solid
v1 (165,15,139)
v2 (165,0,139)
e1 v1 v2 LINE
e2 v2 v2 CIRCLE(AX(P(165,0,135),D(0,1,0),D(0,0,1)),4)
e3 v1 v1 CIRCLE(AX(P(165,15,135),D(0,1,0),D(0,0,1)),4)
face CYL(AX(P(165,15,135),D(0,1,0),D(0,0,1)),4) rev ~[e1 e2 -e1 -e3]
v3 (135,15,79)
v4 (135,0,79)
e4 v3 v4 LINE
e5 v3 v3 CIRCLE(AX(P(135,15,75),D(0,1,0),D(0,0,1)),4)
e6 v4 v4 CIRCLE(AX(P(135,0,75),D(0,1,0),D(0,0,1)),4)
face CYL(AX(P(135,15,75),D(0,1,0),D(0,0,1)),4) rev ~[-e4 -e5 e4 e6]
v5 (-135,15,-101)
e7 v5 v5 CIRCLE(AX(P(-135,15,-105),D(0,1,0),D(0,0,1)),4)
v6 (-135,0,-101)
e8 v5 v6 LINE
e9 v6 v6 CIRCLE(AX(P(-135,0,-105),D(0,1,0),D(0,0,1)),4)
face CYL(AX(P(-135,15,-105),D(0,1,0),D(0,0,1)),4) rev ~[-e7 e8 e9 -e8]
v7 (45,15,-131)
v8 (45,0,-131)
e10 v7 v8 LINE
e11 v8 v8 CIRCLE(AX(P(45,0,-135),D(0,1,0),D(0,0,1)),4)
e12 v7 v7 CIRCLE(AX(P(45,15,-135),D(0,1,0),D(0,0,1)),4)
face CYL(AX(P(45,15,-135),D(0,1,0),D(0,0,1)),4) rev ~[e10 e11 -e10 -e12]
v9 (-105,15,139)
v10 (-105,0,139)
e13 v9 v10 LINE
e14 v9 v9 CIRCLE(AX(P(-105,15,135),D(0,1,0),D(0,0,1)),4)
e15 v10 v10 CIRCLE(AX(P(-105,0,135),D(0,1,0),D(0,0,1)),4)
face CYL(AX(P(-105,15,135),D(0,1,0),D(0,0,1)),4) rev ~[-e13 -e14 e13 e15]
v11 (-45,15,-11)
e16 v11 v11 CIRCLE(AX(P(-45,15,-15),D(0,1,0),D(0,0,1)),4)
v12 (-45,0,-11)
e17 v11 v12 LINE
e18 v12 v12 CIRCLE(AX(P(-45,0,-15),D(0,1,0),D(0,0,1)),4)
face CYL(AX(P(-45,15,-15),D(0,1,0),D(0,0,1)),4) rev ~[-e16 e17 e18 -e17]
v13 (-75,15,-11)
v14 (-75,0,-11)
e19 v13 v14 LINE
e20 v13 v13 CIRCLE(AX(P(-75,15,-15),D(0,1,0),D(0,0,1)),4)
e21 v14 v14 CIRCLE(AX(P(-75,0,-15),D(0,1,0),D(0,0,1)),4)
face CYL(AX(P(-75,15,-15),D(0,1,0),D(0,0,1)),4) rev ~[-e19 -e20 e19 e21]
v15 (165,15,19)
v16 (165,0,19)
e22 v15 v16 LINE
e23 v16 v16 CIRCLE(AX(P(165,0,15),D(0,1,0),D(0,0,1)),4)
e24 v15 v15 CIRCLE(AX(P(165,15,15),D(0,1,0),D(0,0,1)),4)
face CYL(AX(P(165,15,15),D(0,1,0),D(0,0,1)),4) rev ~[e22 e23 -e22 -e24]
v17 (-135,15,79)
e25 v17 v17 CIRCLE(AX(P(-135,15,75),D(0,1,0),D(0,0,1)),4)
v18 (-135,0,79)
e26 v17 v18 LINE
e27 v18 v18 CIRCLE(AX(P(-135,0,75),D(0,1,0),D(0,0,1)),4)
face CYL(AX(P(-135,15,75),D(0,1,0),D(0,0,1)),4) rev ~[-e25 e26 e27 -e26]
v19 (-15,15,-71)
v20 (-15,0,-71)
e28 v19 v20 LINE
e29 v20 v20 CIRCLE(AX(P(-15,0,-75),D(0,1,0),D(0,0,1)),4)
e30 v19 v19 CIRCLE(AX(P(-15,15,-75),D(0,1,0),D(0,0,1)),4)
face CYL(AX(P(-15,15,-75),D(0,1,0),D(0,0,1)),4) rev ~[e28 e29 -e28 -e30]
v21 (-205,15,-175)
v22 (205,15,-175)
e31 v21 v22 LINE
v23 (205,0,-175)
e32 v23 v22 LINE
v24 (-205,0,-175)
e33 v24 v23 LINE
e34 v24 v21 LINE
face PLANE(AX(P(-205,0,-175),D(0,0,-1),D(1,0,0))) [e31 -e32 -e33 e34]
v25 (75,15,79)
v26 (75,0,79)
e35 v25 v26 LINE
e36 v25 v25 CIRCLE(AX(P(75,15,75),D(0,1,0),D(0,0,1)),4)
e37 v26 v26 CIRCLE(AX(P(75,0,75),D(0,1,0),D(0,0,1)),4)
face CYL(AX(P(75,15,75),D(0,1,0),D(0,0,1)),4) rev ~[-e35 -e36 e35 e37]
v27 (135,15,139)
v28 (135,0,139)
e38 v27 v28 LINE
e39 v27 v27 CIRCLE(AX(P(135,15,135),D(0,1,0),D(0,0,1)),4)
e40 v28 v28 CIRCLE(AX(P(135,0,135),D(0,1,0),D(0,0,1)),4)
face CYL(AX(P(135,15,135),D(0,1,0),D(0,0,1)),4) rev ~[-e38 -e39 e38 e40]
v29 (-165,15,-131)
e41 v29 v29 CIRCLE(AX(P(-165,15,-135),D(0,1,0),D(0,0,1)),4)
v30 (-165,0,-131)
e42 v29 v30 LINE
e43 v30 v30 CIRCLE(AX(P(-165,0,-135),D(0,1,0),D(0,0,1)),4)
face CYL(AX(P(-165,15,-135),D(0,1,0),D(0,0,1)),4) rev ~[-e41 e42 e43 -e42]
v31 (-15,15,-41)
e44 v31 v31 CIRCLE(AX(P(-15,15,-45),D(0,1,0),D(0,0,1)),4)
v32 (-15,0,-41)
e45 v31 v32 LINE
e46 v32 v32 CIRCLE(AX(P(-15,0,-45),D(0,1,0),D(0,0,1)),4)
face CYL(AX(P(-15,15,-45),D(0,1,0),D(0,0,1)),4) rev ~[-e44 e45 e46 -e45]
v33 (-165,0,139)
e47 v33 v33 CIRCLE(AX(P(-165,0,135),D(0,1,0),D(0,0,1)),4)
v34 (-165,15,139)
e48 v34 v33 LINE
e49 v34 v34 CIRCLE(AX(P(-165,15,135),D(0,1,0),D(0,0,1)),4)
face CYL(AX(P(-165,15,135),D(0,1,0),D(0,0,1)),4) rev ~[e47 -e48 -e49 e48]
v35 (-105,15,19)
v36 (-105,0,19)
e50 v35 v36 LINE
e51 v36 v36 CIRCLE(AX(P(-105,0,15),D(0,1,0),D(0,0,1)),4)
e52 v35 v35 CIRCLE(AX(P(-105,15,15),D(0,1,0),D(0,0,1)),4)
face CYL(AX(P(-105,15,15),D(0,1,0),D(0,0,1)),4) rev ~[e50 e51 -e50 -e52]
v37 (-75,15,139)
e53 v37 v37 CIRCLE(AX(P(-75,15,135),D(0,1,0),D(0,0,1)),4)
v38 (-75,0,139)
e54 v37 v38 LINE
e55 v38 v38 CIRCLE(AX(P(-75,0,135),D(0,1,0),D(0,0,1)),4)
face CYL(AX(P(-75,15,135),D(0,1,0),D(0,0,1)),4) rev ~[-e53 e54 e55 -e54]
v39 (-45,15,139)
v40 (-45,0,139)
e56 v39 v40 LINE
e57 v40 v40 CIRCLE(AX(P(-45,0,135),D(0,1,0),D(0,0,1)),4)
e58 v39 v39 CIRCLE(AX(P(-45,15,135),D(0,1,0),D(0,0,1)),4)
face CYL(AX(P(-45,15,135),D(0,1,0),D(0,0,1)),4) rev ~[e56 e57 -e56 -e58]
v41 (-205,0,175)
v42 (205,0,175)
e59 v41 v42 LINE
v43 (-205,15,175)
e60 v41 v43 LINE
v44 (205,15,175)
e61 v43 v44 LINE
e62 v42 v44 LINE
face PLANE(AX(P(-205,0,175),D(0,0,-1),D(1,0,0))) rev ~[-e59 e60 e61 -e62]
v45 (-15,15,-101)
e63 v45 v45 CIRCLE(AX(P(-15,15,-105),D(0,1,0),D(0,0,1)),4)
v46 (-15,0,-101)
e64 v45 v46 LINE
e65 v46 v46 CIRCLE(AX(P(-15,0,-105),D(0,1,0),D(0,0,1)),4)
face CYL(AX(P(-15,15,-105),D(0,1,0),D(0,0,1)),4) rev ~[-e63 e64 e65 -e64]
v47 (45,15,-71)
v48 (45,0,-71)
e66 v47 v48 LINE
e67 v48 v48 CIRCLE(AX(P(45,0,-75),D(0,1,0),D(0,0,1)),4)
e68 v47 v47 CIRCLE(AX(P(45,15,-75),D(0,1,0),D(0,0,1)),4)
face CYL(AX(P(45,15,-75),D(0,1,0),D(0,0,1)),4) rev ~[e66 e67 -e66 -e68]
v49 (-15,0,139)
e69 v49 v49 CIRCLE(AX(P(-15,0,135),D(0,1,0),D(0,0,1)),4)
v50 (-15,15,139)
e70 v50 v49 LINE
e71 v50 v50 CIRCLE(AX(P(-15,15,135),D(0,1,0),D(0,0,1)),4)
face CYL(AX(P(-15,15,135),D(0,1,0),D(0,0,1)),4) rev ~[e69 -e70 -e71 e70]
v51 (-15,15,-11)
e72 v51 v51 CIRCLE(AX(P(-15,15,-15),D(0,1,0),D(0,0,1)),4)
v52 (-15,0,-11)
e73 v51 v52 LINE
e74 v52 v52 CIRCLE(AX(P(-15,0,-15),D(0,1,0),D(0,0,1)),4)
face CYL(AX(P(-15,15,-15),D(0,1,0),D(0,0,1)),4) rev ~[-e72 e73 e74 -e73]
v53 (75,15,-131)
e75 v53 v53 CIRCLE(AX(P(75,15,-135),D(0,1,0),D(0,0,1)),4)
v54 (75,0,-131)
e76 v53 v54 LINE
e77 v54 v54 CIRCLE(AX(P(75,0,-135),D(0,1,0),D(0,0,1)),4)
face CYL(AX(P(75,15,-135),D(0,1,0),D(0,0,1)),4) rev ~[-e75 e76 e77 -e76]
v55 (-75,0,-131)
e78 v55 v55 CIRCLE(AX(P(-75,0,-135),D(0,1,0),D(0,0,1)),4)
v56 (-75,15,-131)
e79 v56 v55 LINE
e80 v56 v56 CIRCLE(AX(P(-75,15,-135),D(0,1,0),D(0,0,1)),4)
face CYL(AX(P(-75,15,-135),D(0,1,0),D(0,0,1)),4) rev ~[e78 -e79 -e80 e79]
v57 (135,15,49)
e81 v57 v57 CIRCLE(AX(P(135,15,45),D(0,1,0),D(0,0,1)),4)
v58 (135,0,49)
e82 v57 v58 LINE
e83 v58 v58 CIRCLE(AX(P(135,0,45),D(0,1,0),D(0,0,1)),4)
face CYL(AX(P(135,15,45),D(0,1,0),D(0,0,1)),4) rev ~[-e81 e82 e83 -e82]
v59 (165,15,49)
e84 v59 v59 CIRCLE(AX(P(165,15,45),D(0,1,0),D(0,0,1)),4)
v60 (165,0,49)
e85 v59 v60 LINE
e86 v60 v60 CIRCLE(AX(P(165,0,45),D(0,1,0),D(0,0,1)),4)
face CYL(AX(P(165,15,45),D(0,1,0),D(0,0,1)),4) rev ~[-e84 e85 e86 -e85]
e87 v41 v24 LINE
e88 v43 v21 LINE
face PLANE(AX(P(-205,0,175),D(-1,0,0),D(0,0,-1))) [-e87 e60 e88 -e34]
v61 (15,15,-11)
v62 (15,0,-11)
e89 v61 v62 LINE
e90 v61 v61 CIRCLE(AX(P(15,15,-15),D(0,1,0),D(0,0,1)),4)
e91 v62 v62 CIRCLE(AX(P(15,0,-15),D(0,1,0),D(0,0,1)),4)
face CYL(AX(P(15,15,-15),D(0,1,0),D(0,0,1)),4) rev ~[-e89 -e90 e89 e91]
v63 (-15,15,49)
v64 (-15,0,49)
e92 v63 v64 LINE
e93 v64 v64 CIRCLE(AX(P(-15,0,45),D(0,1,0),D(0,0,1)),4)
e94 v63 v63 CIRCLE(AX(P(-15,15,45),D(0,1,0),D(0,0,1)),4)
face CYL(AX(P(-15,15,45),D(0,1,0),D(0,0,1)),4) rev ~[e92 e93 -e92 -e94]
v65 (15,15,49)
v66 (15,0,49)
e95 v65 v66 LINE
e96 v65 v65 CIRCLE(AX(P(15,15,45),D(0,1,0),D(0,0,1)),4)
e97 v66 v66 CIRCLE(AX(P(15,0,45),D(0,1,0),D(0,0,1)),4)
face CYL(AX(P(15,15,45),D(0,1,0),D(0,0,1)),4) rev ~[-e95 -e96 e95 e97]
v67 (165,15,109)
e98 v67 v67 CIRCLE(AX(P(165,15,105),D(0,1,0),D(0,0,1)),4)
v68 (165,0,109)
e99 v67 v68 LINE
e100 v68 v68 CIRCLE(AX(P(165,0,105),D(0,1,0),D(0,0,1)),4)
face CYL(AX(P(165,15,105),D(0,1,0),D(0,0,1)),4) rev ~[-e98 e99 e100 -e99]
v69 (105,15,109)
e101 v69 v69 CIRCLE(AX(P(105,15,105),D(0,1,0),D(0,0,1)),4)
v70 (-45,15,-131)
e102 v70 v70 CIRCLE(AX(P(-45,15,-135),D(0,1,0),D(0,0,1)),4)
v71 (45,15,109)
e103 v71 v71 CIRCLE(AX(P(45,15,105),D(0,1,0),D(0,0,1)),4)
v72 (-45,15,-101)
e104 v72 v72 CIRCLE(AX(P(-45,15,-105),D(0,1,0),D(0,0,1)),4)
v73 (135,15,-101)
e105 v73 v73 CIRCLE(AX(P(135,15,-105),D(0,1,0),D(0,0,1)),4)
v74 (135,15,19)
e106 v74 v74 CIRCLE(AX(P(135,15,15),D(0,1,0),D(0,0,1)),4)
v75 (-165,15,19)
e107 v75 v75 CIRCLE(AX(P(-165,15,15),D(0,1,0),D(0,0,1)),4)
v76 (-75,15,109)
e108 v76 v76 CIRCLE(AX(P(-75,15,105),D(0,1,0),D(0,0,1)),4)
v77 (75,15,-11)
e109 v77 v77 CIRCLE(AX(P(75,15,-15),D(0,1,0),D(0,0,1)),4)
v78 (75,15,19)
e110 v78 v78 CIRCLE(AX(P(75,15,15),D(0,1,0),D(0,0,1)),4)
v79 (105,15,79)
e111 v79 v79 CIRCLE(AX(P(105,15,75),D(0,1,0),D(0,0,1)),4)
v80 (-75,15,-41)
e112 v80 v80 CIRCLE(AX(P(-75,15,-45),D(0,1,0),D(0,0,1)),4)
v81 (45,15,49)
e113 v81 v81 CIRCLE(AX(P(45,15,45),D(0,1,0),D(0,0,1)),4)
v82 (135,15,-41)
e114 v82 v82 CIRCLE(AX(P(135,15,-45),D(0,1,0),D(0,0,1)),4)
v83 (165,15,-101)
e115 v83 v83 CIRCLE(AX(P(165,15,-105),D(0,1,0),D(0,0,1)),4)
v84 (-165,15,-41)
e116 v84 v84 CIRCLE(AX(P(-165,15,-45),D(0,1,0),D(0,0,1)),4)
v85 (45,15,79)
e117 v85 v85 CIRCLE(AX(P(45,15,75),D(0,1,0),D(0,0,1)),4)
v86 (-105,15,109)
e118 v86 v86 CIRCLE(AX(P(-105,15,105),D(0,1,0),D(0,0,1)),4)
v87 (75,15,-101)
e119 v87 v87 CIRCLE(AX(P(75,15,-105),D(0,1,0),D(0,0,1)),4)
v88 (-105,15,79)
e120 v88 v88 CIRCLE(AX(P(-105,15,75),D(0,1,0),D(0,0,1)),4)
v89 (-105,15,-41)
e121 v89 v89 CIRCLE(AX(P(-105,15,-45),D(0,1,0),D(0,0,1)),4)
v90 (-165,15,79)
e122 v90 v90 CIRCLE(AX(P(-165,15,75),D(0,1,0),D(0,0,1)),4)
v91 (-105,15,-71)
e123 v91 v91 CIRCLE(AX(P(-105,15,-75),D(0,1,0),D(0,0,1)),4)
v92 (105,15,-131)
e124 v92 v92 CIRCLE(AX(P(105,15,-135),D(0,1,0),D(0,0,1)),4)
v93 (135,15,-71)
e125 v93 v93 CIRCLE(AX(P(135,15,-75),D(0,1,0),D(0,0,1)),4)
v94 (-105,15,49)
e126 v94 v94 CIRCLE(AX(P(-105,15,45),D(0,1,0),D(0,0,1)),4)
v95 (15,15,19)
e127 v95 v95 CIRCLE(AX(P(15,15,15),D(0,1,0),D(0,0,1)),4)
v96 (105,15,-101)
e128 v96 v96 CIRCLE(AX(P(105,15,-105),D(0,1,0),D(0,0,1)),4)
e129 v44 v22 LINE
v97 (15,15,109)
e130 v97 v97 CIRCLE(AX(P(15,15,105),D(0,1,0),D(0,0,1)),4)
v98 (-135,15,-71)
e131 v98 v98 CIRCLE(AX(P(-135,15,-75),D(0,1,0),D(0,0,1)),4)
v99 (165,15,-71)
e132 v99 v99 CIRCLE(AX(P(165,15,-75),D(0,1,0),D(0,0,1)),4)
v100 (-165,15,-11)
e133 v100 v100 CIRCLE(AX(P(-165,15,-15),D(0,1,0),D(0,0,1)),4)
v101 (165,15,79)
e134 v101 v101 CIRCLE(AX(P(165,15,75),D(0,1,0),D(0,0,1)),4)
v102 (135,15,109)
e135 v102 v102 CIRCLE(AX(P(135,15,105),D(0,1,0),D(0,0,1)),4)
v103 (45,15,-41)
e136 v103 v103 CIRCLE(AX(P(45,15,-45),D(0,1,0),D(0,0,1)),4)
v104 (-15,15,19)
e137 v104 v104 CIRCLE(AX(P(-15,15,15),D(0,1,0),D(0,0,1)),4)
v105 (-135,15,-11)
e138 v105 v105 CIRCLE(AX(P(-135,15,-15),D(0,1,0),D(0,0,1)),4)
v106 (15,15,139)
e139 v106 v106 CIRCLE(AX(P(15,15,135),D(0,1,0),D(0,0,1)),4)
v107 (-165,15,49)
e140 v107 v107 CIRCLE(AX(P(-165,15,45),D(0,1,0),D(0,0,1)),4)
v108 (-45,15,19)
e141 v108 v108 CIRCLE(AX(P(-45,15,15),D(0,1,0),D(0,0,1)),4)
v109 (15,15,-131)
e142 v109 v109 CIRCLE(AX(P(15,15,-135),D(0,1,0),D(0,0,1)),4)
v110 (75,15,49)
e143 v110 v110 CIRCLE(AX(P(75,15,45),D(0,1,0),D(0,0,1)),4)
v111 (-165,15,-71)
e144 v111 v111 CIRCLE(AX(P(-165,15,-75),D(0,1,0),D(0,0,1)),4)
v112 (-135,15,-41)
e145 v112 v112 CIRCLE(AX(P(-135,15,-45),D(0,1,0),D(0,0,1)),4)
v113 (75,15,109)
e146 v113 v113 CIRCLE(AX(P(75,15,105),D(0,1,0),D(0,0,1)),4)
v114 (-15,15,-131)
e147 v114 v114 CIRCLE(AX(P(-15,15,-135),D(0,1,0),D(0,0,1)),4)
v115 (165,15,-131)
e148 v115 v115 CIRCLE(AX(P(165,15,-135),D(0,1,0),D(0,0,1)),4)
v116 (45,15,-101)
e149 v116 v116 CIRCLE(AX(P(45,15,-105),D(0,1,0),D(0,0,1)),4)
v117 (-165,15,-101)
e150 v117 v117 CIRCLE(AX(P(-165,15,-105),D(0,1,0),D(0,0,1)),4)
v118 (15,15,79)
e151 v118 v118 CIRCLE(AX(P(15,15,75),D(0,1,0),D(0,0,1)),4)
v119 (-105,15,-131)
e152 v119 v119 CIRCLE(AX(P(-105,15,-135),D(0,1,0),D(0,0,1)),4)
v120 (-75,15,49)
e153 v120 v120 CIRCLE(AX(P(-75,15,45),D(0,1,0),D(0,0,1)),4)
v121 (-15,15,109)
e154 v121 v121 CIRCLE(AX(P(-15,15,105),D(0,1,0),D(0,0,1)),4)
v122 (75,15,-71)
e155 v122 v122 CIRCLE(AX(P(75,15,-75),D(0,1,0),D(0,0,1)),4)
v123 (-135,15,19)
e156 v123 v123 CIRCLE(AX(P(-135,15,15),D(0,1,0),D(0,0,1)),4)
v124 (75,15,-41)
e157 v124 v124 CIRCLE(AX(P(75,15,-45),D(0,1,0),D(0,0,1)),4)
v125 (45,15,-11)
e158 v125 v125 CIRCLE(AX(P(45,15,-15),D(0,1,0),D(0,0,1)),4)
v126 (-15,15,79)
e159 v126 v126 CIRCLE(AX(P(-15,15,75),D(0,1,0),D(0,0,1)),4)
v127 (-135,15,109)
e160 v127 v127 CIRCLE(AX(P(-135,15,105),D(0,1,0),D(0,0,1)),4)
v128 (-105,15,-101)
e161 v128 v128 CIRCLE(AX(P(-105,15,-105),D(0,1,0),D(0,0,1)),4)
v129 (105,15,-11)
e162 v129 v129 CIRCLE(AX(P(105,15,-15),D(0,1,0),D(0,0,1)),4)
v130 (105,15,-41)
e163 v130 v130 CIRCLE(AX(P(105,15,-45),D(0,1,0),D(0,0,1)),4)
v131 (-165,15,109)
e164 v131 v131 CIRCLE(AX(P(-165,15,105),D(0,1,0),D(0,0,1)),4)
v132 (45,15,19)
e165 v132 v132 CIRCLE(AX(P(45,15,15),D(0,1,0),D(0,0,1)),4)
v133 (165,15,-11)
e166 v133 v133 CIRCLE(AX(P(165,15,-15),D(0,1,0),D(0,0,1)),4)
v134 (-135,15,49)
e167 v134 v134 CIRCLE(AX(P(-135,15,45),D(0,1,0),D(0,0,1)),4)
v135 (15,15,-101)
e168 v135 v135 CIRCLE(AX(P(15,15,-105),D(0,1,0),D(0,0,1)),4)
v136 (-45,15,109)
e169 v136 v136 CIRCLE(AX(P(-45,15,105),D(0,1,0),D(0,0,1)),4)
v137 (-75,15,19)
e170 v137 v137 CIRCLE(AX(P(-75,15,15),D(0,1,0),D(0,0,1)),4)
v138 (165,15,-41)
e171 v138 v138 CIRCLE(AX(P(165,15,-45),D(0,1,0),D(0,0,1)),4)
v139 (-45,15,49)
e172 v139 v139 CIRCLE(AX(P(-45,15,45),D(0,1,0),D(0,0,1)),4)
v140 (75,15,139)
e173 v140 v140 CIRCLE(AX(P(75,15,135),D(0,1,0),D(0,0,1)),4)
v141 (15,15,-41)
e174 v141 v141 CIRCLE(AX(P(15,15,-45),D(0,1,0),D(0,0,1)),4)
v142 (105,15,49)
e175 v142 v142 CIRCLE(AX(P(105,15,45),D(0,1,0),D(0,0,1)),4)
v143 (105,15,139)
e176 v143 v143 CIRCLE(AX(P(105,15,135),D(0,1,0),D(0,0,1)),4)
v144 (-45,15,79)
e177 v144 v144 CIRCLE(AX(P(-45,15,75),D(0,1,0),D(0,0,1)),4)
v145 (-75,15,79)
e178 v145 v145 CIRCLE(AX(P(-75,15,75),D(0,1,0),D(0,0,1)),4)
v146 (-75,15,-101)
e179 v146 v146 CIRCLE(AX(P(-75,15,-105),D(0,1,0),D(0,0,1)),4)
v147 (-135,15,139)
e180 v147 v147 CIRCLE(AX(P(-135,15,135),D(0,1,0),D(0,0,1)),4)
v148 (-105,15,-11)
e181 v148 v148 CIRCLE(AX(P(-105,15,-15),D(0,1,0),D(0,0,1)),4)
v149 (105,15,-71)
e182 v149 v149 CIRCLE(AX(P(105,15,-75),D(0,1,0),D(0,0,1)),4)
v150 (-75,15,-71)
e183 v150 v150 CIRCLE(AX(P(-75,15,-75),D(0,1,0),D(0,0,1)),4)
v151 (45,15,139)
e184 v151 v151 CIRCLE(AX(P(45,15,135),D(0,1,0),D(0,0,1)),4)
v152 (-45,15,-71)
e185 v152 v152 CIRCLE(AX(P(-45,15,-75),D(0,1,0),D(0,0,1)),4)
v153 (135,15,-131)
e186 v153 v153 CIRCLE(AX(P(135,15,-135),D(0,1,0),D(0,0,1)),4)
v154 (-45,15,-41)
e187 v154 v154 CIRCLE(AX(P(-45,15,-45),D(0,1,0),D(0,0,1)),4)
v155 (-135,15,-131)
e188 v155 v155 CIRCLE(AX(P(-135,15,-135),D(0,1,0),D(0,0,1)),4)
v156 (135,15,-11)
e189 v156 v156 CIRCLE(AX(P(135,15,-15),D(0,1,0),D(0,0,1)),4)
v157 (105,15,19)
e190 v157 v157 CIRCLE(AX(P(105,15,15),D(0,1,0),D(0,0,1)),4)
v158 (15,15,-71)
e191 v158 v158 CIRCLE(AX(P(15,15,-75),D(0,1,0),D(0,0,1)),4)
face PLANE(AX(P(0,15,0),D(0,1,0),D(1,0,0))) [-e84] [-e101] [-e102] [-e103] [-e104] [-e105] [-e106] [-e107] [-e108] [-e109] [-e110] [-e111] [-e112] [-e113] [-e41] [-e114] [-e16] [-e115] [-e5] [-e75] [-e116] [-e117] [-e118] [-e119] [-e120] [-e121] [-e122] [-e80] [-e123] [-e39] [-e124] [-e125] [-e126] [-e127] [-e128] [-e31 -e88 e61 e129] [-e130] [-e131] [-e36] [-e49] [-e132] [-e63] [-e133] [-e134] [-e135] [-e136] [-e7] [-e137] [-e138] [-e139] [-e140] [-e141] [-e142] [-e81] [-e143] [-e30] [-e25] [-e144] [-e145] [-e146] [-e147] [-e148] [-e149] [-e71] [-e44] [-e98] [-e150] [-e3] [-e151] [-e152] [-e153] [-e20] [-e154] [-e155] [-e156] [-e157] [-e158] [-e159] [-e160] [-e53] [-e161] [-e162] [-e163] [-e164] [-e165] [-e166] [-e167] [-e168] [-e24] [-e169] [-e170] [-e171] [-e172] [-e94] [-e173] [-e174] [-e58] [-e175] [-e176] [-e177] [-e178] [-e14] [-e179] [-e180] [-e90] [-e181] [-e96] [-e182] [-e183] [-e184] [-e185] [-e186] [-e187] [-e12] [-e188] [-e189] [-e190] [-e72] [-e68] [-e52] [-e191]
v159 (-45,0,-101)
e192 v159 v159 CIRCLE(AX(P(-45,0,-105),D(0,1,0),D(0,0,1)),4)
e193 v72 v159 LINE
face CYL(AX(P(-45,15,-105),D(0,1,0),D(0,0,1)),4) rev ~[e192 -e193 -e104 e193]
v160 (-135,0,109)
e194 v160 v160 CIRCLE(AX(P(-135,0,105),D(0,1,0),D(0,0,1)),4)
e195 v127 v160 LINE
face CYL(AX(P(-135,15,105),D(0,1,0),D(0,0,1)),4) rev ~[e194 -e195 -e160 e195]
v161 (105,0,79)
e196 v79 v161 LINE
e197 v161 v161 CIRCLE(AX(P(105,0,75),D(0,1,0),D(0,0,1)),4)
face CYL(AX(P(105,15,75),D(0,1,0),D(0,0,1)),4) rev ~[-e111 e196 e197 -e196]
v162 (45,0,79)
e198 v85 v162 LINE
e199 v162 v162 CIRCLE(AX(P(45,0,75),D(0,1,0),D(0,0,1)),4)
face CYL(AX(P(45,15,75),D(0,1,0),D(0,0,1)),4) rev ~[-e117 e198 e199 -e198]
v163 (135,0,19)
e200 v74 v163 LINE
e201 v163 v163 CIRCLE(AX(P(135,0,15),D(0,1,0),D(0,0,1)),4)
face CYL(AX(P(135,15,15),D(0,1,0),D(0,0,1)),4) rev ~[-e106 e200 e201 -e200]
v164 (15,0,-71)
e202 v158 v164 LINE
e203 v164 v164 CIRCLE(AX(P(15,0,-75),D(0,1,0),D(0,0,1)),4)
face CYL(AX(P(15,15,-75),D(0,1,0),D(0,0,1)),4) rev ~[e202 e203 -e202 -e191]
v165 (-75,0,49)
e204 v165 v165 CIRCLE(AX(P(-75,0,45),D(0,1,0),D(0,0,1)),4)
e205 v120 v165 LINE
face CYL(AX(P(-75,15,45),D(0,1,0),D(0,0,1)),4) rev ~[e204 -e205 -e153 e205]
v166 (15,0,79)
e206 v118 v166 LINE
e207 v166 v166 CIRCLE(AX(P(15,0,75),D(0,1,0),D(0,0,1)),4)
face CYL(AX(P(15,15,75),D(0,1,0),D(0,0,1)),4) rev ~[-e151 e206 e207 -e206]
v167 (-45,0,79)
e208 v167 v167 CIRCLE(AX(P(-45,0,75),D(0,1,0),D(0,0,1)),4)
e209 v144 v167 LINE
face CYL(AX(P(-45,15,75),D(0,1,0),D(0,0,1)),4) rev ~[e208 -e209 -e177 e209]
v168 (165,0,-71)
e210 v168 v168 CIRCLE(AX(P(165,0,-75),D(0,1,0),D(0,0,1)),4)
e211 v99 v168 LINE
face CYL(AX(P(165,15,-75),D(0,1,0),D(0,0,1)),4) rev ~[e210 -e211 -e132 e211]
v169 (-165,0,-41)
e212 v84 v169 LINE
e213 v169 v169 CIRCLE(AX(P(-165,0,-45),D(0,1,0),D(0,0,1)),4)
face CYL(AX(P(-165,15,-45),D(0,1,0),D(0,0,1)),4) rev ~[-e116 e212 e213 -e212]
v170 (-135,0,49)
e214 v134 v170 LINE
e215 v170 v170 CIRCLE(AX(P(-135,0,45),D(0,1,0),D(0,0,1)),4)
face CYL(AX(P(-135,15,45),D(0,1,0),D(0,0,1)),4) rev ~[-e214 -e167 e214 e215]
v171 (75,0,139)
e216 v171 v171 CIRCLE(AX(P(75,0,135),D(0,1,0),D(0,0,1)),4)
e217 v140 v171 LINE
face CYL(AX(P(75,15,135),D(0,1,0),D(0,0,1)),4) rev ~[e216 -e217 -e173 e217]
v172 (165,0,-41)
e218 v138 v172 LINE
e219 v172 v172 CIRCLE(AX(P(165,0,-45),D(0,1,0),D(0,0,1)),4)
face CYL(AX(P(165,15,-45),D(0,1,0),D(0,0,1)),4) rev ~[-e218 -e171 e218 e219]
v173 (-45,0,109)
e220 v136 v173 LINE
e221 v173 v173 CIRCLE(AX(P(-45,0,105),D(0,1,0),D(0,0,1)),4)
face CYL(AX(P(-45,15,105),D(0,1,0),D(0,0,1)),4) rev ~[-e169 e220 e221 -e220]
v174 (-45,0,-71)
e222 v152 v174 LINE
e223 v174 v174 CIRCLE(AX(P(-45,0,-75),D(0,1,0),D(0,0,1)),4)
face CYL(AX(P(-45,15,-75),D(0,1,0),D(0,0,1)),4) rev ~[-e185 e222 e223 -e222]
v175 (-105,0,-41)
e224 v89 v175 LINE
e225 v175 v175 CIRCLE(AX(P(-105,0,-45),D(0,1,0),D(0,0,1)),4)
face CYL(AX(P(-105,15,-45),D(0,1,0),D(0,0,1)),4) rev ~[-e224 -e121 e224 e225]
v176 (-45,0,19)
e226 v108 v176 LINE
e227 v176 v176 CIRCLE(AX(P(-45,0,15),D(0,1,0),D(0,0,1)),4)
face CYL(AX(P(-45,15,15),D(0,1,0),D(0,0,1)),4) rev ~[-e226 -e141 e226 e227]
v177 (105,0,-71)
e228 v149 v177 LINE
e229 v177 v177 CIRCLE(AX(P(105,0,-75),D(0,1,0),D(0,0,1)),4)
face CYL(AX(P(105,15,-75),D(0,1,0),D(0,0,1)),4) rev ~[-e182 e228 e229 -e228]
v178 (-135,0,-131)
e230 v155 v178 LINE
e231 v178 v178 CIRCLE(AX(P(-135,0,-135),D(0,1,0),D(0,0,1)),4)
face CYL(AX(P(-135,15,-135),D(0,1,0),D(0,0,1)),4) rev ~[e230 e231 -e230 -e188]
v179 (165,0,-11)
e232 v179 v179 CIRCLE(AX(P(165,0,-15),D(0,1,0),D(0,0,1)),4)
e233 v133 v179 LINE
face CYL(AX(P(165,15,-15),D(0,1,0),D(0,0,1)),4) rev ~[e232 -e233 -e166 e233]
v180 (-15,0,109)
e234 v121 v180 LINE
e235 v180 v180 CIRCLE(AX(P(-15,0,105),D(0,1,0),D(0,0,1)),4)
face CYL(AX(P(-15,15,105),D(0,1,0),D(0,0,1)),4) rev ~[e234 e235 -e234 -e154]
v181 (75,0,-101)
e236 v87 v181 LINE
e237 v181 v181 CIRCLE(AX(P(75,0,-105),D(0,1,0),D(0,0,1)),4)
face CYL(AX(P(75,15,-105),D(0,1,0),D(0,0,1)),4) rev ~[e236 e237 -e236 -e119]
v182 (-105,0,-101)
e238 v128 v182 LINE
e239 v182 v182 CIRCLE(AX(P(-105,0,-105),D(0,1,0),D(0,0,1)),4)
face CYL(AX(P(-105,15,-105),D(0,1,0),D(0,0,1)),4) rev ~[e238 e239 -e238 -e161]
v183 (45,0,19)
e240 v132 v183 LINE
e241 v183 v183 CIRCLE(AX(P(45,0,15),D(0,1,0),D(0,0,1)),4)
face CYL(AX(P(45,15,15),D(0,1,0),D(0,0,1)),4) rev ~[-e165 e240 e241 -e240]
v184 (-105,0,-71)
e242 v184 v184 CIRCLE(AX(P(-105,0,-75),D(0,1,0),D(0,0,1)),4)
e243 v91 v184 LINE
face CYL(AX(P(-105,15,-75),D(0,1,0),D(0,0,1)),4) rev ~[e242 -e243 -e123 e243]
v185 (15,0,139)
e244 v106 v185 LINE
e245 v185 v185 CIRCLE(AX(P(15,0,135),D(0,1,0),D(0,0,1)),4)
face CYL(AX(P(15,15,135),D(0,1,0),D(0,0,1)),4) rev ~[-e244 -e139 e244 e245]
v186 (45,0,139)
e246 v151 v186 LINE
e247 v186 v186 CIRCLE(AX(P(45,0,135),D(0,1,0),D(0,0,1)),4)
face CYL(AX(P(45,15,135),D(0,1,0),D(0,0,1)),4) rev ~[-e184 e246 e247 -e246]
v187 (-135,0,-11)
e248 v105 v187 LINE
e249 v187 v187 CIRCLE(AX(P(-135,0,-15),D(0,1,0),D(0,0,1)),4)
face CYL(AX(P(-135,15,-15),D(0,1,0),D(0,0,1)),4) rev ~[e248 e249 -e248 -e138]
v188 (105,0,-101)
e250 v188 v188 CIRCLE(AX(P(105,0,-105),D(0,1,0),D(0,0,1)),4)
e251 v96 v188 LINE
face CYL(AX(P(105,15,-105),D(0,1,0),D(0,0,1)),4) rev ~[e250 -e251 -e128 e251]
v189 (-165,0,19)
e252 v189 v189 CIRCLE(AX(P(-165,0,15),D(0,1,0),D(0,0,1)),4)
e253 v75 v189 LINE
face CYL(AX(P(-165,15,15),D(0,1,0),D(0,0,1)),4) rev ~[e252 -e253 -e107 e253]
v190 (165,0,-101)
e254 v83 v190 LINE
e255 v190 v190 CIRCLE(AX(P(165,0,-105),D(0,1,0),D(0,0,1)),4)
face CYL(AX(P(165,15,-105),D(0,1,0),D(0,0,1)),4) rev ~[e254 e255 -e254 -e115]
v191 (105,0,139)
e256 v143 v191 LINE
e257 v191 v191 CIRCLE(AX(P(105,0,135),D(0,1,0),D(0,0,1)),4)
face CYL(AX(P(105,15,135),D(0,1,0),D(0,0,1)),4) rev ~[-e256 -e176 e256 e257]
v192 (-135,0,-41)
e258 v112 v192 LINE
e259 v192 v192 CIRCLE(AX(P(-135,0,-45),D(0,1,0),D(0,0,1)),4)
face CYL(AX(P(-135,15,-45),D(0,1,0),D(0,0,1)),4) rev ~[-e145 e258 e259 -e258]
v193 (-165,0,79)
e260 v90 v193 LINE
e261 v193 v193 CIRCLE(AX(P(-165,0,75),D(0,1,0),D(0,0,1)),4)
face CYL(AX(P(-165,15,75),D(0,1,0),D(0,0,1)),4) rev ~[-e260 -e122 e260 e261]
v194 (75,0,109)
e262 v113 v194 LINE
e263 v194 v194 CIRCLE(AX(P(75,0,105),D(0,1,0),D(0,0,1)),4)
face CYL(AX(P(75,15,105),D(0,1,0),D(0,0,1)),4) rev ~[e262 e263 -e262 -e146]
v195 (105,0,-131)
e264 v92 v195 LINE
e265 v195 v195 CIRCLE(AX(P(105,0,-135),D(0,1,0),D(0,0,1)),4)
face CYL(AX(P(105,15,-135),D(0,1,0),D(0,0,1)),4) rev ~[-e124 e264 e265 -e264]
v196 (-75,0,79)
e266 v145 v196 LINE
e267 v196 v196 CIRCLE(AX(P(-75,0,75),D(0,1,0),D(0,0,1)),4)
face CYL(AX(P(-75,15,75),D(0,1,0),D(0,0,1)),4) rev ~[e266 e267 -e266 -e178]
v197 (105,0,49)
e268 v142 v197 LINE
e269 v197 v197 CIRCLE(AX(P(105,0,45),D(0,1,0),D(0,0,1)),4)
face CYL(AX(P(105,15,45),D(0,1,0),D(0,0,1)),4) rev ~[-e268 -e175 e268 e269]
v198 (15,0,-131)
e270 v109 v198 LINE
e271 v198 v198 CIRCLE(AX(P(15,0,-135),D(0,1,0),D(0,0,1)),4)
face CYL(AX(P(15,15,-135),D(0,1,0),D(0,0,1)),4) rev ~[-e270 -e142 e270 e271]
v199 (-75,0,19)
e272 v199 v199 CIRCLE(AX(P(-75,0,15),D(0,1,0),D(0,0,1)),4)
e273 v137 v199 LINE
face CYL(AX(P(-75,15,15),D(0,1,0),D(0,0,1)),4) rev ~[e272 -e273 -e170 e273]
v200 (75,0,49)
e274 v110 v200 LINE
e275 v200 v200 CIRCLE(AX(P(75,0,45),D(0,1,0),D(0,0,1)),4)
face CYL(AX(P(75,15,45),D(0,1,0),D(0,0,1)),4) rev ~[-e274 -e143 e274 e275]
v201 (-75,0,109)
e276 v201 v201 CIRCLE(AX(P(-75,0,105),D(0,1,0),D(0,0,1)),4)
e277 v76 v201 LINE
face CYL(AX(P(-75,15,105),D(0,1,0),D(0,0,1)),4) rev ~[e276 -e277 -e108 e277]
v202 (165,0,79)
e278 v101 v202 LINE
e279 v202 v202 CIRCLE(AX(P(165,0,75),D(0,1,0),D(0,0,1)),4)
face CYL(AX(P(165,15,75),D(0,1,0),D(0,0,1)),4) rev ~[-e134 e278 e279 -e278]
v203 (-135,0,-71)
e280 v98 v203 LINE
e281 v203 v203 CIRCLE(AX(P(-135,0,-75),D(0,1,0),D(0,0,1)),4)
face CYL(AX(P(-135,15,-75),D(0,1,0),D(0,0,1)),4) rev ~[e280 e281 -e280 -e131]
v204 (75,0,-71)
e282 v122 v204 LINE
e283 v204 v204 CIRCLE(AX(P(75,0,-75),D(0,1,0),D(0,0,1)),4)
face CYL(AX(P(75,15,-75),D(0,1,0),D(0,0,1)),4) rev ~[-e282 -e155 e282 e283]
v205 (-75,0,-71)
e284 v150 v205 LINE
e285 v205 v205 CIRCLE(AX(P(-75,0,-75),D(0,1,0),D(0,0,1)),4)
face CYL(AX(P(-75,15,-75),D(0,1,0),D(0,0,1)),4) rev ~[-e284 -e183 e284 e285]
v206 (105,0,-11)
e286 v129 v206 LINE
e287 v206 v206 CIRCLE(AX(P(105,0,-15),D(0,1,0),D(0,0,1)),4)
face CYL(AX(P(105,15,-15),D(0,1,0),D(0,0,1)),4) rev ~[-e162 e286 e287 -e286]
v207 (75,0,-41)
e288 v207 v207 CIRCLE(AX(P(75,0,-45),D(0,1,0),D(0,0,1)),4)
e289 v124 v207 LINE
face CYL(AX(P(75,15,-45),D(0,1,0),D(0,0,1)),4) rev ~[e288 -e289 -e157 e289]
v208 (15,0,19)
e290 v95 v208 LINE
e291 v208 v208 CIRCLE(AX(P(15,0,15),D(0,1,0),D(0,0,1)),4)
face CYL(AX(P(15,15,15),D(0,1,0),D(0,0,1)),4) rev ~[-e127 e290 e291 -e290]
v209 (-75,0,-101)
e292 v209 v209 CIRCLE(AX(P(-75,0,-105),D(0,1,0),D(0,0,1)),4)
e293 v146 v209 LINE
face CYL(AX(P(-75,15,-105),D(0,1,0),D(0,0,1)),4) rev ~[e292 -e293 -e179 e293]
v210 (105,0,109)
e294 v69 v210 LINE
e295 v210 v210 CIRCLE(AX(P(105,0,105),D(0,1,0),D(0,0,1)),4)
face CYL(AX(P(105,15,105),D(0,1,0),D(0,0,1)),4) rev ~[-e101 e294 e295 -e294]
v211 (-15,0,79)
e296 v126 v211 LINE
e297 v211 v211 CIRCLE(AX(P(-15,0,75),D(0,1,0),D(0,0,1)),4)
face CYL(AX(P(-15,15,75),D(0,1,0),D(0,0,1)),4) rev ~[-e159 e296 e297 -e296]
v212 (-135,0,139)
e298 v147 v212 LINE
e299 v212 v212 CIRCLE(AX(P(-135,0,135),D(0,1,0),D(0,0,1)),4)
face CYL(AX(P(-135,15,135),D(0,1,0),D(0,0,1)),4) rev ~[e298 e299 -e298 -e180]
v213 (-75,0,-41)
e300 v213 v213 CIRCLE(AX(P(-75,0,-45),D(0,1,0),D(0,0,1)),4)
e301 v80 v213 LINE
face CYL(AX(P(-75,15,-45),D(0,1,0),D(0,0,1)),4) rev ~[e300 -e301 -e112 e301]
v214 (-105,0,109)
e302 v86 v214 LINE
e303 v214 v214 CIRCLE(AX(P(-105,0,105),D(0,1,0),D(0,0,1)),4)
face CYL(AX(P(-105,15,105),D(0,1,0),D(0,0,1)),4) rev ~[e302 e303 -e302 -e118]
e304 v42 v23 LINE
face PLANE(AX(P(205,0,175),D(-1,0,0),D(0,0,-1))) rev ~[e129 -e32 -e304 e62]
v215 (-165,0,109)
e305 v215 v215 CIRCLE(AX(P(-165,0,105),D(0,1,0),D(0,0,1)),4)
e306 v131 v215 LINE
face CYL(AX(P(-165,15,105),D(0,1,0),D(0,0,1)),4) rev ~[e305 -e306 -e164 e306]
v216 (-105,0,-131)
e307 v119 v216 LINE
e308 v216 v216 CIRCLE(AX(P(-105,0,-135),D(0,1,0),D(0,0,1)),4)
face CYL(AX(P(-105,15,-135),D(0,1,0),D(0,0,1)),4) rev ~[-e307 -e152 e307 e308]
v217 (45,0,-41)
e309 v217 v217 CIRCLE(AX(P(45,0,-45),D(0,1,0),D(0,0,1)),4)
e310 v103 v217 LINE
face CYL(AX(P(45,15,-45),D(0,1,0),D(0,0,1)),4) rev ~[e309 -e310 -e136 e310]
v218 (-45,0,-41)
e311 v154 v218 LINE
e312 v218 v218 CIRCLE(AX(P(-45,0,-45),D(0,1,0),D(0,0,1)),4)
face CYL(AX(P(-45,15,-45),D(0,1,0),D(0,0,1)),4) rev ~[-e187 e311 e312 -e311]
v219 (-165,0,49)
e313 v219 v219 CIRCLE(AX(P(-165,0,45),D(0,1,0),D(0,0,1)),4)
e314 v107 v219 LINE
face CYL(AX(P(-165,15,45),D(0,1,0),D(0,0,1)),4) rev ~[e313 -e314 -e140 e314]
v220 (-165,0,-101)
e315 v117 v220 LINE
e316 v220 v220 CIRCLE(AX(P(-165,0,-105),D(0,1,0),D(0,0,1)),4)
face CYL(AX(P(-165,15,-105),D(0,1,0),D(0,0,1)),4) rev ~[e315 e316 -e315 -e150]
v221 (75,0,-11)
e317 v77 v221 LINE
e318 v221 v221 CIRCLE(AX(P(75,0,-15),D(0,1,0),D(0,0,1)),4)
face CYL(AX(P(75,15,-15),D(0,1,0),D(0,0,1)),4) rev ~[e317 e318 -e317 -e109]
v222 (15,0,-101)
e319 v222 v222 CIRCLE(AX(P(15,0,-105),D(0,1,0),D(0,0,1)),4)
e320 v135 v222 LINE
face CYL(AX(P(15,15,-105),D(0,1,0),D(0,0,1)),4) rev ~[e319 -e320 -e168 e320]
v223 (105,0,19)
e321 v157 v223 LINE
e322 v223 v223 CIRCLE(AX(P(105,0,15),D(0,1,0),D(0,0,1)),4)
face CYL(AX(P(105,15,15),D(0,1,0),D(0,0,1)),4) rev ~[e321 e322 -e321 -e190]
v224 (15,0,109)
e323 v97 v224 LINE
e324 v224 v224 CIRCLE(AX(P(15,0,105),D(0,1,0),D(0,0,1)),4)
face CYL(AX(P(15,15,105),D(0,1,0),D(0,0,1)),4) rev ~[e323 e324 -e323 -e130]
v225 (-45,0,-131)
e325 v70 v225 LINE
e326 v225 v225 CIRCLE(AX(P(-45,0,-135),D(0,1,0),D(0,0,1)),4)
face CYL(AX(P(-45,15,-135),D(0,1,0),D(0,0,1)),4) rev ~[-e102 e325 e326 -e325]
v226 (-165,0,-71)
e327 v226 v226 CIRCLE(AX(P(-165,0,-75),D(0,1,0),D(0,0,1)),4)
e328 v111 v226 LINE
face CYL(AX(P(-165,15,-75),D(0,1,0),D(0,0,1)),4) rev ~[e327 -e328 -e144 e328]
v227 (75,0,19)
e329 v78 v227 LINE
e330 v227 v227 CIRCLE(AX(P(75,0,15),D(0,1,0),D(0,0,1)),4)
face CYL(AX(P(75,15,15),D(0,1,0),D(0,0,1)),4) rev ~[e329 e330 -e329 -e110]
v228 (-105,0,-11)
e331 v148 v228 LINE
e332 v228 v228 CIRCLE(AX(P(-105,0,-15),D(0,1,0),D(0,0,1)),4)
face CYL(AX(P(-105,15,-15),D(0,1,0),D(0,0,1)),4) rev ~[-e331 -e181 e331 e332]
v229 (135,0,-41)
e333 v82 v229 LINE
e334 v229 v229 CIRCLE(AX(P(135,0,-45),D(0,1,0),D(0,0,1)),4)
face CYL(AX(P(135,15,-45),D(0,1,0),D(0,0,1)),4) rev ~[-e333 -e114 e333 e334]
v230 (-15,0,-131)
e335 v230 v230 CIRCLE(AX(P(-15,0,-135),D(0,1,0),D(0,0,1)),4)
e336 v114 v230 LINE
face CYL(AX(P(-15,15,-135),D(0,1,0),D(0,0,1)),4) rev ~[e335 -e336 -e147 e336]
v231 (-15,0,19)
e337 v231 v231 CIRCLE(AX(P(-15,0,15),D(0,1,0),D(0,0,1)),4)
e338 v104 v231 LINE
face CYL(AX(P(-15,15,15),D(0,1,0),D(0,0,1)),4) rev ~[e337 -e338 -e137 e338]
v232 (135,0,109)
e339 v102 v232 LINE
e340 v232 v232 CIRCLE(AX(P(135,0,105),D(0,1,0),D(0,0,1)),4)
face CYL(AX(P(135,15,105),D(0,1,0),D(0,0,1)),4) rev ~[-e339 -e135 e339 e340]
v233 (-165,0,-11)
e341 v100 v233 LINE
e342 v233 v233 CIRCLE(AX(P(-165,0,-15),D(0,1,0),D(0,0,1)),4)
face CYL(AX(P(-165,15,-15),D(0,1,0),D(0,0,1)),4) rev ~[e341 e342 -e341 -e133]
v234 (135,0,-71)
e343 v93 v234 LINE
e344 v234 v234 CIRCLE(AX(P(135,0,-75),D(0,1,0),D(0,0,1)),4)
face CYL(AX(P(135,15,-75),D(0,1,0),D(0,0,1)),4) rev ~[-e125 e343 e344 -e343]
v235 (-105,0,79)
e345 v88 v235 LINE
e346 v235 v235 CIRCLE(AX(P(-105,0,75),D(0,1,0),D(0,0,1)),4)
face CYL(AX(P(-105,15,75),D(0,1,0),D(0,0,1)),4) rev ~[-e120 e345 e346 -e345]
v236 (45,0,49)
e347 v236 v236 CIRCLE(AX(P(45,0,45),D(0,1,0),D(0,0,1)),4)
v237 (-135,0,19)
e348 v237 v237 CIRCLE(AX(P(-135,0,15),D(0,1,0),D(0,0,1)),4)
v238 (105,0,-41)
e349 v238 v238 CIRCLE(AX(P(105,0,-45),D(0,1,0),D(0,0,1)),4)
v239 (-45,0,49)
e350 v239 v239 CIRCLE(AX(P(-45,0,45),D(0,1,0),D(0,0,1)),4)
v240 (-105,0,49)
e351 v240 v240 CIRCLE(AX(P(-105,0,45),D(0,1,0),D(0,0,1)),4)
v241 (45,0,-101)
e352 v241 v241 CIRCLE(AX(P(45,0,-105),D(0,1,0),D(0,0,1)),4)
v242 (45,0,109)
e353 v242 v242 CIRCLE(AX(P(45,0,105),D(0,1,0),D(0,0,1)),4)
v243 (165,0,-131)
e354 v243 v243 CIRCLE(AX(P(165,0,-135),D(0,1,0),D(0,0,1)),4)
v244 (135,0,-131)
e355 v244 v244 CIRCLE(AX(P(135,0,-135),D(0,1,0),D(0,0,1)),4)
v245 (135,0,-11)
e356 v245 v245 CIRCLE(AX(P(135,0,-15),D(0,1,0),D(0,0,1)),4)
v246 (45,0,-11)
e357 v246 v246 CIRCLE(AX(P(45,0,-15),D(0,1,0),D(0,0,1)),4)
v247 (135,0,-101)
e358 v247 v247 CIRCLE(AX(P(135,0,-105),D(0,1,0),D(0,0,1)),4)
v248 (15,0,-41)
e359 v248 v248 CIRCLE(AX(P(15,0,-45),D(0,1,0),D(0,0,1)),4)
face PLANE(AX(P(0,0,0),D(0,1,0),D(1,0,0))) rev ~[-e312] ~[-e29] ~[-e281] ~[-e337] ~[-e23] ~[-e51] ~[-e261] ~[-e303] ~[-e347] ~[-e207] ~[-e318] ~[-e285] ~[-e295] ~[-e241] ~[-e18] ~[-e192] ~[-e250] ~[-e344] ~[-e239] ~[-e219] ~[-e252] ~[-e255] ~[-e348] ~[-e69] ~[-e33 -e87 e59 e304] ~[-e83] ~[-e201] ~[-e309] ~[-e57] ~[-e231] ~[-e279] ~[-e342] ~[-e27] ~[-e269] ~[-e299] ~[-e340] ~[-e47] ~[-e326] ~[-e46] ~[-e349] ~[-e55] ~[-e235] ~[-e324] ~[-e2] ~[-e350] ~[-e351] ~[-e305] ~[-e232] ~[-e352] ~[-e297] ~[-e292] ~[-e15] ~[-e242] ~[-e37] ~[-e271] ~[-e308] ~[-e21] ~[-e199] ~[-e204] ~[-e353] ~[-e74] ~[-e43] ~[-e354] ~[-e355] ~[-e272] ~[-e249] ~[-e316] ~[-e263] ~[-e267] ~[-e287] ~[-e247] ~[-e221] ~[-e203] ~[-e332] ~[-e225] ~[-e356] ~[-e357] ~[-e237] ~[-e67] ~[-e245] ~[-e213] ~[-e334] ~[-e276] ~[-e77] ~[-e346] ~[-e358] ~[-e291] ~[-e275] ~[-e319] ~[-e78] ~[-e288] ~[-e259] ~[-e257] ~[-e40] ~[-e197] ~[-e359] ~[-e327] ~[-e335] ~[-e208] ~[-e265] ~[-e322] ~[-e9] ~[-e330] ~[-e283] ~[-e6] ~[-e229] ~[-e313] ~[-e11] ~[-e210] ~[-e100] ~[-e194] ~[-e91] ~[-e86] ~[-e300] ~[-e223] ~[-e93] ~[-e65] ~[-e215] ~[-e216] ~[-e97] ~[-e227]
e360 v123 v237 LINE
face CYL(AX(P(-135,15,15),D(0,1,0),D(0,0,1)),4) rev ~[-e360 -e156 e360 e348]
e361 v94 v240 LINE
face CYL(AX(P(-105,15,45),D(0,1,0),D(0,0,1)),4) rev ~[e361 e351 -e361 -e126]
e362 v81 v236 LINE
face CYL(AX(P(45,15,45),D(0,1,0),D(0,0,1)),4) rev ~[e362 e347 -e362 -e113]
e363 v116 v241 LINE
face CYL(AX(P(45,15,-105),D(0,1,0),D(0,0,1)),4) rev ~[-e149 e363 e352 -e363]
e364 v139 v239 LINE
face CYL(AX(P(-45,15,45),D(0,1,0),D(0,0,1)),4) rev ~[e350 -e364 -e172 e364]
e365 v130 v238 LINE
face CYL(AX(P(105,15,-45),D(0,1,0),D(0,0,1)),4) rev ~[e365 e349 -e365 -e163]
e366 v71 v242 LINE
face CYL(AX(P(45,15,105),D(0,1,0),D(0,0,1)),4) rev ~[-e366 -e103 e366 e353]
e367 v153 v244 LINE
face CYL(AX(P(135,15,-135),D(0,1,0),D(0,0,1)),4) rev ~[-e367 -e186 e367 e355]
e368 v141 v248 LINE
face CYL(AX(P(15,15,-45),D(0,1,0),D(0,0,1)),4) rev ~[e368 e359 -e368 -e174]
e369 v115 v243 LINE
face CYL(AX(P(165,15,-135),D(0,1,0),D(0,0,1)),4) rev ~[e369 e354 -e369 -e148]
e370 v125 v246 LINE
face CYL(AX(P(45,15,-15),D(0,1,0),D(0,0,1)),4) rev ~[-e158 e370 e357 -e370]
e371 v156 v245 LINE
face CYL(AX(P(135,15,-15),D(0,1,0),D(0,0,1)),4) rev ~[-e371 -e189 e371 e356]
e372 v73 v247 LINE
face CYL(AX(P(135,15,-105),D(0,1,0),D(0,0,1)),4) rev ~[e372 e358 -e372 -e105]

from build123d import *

# Parameters (mm, degrees)
ESBO_O1_W                 = 410
ESBO_O1_H                 = 350
RESSALTO_EXTRUS_O1_DEPTH  = 15
ESBO_O2_R                 = 4
CORTE_EXTRUS_O1_DEPTH     = 270.953699734
PADR_O_LINEAR1_COUNT      = 12
PADR_O_LINEAR1_PITCH      = 30
PADR_O_LINEAR1_COUNT_DIR2 = 10
PADR_O_LINEAR1_PITCH_DIR2 = 30


with BuildPart() as part:
    # Esboço1 → Ressalto-extrusão1 (new body)
    with BuildSketch(Plane(origin=(0, 0, 0), x_dir=(1, 0, 0), z_dir=(0, 1, 0))):
        Rectangle(ESBO_O1_W, ESBO_O1_H)
    extrude(amount=RESSALTO_EXTRUS_O1_DEPTH)

    # Esboço2 → Corte-extrusão1 (cut, through all)
    with BuildSketch(Plane(origin=(0, 15, 0), x_dir=(1, 0, 0), z_dir=(0, 1, 0))):
        with Locations(Location((-165, -135, 0), (0, 0, 270))):
            Circle(ESBO_O2_R)
    corte_extrus_o1 = extrude(amount=-CORTE_EXTRUS_O1_DEPTH, mode=Mode.SUBTRACT)

    # Padrão linear1: Corte-extrus_o1 12 × 10
    with Locations(*[(i * PADR_O_LINEAR1_PITCH, 0, -j * PADR_O_LINEAR1_PITCH_DIR2) for i in range(PADR_O_LINEAR1_COUNT) for j in range(PADR_O_LINEAR1_COUNT_DIR2) if (i, j) != (0, 0)]):
        add(corte_extrus_o1, mode=Mode.SUBTRACT)


solid = part.part
